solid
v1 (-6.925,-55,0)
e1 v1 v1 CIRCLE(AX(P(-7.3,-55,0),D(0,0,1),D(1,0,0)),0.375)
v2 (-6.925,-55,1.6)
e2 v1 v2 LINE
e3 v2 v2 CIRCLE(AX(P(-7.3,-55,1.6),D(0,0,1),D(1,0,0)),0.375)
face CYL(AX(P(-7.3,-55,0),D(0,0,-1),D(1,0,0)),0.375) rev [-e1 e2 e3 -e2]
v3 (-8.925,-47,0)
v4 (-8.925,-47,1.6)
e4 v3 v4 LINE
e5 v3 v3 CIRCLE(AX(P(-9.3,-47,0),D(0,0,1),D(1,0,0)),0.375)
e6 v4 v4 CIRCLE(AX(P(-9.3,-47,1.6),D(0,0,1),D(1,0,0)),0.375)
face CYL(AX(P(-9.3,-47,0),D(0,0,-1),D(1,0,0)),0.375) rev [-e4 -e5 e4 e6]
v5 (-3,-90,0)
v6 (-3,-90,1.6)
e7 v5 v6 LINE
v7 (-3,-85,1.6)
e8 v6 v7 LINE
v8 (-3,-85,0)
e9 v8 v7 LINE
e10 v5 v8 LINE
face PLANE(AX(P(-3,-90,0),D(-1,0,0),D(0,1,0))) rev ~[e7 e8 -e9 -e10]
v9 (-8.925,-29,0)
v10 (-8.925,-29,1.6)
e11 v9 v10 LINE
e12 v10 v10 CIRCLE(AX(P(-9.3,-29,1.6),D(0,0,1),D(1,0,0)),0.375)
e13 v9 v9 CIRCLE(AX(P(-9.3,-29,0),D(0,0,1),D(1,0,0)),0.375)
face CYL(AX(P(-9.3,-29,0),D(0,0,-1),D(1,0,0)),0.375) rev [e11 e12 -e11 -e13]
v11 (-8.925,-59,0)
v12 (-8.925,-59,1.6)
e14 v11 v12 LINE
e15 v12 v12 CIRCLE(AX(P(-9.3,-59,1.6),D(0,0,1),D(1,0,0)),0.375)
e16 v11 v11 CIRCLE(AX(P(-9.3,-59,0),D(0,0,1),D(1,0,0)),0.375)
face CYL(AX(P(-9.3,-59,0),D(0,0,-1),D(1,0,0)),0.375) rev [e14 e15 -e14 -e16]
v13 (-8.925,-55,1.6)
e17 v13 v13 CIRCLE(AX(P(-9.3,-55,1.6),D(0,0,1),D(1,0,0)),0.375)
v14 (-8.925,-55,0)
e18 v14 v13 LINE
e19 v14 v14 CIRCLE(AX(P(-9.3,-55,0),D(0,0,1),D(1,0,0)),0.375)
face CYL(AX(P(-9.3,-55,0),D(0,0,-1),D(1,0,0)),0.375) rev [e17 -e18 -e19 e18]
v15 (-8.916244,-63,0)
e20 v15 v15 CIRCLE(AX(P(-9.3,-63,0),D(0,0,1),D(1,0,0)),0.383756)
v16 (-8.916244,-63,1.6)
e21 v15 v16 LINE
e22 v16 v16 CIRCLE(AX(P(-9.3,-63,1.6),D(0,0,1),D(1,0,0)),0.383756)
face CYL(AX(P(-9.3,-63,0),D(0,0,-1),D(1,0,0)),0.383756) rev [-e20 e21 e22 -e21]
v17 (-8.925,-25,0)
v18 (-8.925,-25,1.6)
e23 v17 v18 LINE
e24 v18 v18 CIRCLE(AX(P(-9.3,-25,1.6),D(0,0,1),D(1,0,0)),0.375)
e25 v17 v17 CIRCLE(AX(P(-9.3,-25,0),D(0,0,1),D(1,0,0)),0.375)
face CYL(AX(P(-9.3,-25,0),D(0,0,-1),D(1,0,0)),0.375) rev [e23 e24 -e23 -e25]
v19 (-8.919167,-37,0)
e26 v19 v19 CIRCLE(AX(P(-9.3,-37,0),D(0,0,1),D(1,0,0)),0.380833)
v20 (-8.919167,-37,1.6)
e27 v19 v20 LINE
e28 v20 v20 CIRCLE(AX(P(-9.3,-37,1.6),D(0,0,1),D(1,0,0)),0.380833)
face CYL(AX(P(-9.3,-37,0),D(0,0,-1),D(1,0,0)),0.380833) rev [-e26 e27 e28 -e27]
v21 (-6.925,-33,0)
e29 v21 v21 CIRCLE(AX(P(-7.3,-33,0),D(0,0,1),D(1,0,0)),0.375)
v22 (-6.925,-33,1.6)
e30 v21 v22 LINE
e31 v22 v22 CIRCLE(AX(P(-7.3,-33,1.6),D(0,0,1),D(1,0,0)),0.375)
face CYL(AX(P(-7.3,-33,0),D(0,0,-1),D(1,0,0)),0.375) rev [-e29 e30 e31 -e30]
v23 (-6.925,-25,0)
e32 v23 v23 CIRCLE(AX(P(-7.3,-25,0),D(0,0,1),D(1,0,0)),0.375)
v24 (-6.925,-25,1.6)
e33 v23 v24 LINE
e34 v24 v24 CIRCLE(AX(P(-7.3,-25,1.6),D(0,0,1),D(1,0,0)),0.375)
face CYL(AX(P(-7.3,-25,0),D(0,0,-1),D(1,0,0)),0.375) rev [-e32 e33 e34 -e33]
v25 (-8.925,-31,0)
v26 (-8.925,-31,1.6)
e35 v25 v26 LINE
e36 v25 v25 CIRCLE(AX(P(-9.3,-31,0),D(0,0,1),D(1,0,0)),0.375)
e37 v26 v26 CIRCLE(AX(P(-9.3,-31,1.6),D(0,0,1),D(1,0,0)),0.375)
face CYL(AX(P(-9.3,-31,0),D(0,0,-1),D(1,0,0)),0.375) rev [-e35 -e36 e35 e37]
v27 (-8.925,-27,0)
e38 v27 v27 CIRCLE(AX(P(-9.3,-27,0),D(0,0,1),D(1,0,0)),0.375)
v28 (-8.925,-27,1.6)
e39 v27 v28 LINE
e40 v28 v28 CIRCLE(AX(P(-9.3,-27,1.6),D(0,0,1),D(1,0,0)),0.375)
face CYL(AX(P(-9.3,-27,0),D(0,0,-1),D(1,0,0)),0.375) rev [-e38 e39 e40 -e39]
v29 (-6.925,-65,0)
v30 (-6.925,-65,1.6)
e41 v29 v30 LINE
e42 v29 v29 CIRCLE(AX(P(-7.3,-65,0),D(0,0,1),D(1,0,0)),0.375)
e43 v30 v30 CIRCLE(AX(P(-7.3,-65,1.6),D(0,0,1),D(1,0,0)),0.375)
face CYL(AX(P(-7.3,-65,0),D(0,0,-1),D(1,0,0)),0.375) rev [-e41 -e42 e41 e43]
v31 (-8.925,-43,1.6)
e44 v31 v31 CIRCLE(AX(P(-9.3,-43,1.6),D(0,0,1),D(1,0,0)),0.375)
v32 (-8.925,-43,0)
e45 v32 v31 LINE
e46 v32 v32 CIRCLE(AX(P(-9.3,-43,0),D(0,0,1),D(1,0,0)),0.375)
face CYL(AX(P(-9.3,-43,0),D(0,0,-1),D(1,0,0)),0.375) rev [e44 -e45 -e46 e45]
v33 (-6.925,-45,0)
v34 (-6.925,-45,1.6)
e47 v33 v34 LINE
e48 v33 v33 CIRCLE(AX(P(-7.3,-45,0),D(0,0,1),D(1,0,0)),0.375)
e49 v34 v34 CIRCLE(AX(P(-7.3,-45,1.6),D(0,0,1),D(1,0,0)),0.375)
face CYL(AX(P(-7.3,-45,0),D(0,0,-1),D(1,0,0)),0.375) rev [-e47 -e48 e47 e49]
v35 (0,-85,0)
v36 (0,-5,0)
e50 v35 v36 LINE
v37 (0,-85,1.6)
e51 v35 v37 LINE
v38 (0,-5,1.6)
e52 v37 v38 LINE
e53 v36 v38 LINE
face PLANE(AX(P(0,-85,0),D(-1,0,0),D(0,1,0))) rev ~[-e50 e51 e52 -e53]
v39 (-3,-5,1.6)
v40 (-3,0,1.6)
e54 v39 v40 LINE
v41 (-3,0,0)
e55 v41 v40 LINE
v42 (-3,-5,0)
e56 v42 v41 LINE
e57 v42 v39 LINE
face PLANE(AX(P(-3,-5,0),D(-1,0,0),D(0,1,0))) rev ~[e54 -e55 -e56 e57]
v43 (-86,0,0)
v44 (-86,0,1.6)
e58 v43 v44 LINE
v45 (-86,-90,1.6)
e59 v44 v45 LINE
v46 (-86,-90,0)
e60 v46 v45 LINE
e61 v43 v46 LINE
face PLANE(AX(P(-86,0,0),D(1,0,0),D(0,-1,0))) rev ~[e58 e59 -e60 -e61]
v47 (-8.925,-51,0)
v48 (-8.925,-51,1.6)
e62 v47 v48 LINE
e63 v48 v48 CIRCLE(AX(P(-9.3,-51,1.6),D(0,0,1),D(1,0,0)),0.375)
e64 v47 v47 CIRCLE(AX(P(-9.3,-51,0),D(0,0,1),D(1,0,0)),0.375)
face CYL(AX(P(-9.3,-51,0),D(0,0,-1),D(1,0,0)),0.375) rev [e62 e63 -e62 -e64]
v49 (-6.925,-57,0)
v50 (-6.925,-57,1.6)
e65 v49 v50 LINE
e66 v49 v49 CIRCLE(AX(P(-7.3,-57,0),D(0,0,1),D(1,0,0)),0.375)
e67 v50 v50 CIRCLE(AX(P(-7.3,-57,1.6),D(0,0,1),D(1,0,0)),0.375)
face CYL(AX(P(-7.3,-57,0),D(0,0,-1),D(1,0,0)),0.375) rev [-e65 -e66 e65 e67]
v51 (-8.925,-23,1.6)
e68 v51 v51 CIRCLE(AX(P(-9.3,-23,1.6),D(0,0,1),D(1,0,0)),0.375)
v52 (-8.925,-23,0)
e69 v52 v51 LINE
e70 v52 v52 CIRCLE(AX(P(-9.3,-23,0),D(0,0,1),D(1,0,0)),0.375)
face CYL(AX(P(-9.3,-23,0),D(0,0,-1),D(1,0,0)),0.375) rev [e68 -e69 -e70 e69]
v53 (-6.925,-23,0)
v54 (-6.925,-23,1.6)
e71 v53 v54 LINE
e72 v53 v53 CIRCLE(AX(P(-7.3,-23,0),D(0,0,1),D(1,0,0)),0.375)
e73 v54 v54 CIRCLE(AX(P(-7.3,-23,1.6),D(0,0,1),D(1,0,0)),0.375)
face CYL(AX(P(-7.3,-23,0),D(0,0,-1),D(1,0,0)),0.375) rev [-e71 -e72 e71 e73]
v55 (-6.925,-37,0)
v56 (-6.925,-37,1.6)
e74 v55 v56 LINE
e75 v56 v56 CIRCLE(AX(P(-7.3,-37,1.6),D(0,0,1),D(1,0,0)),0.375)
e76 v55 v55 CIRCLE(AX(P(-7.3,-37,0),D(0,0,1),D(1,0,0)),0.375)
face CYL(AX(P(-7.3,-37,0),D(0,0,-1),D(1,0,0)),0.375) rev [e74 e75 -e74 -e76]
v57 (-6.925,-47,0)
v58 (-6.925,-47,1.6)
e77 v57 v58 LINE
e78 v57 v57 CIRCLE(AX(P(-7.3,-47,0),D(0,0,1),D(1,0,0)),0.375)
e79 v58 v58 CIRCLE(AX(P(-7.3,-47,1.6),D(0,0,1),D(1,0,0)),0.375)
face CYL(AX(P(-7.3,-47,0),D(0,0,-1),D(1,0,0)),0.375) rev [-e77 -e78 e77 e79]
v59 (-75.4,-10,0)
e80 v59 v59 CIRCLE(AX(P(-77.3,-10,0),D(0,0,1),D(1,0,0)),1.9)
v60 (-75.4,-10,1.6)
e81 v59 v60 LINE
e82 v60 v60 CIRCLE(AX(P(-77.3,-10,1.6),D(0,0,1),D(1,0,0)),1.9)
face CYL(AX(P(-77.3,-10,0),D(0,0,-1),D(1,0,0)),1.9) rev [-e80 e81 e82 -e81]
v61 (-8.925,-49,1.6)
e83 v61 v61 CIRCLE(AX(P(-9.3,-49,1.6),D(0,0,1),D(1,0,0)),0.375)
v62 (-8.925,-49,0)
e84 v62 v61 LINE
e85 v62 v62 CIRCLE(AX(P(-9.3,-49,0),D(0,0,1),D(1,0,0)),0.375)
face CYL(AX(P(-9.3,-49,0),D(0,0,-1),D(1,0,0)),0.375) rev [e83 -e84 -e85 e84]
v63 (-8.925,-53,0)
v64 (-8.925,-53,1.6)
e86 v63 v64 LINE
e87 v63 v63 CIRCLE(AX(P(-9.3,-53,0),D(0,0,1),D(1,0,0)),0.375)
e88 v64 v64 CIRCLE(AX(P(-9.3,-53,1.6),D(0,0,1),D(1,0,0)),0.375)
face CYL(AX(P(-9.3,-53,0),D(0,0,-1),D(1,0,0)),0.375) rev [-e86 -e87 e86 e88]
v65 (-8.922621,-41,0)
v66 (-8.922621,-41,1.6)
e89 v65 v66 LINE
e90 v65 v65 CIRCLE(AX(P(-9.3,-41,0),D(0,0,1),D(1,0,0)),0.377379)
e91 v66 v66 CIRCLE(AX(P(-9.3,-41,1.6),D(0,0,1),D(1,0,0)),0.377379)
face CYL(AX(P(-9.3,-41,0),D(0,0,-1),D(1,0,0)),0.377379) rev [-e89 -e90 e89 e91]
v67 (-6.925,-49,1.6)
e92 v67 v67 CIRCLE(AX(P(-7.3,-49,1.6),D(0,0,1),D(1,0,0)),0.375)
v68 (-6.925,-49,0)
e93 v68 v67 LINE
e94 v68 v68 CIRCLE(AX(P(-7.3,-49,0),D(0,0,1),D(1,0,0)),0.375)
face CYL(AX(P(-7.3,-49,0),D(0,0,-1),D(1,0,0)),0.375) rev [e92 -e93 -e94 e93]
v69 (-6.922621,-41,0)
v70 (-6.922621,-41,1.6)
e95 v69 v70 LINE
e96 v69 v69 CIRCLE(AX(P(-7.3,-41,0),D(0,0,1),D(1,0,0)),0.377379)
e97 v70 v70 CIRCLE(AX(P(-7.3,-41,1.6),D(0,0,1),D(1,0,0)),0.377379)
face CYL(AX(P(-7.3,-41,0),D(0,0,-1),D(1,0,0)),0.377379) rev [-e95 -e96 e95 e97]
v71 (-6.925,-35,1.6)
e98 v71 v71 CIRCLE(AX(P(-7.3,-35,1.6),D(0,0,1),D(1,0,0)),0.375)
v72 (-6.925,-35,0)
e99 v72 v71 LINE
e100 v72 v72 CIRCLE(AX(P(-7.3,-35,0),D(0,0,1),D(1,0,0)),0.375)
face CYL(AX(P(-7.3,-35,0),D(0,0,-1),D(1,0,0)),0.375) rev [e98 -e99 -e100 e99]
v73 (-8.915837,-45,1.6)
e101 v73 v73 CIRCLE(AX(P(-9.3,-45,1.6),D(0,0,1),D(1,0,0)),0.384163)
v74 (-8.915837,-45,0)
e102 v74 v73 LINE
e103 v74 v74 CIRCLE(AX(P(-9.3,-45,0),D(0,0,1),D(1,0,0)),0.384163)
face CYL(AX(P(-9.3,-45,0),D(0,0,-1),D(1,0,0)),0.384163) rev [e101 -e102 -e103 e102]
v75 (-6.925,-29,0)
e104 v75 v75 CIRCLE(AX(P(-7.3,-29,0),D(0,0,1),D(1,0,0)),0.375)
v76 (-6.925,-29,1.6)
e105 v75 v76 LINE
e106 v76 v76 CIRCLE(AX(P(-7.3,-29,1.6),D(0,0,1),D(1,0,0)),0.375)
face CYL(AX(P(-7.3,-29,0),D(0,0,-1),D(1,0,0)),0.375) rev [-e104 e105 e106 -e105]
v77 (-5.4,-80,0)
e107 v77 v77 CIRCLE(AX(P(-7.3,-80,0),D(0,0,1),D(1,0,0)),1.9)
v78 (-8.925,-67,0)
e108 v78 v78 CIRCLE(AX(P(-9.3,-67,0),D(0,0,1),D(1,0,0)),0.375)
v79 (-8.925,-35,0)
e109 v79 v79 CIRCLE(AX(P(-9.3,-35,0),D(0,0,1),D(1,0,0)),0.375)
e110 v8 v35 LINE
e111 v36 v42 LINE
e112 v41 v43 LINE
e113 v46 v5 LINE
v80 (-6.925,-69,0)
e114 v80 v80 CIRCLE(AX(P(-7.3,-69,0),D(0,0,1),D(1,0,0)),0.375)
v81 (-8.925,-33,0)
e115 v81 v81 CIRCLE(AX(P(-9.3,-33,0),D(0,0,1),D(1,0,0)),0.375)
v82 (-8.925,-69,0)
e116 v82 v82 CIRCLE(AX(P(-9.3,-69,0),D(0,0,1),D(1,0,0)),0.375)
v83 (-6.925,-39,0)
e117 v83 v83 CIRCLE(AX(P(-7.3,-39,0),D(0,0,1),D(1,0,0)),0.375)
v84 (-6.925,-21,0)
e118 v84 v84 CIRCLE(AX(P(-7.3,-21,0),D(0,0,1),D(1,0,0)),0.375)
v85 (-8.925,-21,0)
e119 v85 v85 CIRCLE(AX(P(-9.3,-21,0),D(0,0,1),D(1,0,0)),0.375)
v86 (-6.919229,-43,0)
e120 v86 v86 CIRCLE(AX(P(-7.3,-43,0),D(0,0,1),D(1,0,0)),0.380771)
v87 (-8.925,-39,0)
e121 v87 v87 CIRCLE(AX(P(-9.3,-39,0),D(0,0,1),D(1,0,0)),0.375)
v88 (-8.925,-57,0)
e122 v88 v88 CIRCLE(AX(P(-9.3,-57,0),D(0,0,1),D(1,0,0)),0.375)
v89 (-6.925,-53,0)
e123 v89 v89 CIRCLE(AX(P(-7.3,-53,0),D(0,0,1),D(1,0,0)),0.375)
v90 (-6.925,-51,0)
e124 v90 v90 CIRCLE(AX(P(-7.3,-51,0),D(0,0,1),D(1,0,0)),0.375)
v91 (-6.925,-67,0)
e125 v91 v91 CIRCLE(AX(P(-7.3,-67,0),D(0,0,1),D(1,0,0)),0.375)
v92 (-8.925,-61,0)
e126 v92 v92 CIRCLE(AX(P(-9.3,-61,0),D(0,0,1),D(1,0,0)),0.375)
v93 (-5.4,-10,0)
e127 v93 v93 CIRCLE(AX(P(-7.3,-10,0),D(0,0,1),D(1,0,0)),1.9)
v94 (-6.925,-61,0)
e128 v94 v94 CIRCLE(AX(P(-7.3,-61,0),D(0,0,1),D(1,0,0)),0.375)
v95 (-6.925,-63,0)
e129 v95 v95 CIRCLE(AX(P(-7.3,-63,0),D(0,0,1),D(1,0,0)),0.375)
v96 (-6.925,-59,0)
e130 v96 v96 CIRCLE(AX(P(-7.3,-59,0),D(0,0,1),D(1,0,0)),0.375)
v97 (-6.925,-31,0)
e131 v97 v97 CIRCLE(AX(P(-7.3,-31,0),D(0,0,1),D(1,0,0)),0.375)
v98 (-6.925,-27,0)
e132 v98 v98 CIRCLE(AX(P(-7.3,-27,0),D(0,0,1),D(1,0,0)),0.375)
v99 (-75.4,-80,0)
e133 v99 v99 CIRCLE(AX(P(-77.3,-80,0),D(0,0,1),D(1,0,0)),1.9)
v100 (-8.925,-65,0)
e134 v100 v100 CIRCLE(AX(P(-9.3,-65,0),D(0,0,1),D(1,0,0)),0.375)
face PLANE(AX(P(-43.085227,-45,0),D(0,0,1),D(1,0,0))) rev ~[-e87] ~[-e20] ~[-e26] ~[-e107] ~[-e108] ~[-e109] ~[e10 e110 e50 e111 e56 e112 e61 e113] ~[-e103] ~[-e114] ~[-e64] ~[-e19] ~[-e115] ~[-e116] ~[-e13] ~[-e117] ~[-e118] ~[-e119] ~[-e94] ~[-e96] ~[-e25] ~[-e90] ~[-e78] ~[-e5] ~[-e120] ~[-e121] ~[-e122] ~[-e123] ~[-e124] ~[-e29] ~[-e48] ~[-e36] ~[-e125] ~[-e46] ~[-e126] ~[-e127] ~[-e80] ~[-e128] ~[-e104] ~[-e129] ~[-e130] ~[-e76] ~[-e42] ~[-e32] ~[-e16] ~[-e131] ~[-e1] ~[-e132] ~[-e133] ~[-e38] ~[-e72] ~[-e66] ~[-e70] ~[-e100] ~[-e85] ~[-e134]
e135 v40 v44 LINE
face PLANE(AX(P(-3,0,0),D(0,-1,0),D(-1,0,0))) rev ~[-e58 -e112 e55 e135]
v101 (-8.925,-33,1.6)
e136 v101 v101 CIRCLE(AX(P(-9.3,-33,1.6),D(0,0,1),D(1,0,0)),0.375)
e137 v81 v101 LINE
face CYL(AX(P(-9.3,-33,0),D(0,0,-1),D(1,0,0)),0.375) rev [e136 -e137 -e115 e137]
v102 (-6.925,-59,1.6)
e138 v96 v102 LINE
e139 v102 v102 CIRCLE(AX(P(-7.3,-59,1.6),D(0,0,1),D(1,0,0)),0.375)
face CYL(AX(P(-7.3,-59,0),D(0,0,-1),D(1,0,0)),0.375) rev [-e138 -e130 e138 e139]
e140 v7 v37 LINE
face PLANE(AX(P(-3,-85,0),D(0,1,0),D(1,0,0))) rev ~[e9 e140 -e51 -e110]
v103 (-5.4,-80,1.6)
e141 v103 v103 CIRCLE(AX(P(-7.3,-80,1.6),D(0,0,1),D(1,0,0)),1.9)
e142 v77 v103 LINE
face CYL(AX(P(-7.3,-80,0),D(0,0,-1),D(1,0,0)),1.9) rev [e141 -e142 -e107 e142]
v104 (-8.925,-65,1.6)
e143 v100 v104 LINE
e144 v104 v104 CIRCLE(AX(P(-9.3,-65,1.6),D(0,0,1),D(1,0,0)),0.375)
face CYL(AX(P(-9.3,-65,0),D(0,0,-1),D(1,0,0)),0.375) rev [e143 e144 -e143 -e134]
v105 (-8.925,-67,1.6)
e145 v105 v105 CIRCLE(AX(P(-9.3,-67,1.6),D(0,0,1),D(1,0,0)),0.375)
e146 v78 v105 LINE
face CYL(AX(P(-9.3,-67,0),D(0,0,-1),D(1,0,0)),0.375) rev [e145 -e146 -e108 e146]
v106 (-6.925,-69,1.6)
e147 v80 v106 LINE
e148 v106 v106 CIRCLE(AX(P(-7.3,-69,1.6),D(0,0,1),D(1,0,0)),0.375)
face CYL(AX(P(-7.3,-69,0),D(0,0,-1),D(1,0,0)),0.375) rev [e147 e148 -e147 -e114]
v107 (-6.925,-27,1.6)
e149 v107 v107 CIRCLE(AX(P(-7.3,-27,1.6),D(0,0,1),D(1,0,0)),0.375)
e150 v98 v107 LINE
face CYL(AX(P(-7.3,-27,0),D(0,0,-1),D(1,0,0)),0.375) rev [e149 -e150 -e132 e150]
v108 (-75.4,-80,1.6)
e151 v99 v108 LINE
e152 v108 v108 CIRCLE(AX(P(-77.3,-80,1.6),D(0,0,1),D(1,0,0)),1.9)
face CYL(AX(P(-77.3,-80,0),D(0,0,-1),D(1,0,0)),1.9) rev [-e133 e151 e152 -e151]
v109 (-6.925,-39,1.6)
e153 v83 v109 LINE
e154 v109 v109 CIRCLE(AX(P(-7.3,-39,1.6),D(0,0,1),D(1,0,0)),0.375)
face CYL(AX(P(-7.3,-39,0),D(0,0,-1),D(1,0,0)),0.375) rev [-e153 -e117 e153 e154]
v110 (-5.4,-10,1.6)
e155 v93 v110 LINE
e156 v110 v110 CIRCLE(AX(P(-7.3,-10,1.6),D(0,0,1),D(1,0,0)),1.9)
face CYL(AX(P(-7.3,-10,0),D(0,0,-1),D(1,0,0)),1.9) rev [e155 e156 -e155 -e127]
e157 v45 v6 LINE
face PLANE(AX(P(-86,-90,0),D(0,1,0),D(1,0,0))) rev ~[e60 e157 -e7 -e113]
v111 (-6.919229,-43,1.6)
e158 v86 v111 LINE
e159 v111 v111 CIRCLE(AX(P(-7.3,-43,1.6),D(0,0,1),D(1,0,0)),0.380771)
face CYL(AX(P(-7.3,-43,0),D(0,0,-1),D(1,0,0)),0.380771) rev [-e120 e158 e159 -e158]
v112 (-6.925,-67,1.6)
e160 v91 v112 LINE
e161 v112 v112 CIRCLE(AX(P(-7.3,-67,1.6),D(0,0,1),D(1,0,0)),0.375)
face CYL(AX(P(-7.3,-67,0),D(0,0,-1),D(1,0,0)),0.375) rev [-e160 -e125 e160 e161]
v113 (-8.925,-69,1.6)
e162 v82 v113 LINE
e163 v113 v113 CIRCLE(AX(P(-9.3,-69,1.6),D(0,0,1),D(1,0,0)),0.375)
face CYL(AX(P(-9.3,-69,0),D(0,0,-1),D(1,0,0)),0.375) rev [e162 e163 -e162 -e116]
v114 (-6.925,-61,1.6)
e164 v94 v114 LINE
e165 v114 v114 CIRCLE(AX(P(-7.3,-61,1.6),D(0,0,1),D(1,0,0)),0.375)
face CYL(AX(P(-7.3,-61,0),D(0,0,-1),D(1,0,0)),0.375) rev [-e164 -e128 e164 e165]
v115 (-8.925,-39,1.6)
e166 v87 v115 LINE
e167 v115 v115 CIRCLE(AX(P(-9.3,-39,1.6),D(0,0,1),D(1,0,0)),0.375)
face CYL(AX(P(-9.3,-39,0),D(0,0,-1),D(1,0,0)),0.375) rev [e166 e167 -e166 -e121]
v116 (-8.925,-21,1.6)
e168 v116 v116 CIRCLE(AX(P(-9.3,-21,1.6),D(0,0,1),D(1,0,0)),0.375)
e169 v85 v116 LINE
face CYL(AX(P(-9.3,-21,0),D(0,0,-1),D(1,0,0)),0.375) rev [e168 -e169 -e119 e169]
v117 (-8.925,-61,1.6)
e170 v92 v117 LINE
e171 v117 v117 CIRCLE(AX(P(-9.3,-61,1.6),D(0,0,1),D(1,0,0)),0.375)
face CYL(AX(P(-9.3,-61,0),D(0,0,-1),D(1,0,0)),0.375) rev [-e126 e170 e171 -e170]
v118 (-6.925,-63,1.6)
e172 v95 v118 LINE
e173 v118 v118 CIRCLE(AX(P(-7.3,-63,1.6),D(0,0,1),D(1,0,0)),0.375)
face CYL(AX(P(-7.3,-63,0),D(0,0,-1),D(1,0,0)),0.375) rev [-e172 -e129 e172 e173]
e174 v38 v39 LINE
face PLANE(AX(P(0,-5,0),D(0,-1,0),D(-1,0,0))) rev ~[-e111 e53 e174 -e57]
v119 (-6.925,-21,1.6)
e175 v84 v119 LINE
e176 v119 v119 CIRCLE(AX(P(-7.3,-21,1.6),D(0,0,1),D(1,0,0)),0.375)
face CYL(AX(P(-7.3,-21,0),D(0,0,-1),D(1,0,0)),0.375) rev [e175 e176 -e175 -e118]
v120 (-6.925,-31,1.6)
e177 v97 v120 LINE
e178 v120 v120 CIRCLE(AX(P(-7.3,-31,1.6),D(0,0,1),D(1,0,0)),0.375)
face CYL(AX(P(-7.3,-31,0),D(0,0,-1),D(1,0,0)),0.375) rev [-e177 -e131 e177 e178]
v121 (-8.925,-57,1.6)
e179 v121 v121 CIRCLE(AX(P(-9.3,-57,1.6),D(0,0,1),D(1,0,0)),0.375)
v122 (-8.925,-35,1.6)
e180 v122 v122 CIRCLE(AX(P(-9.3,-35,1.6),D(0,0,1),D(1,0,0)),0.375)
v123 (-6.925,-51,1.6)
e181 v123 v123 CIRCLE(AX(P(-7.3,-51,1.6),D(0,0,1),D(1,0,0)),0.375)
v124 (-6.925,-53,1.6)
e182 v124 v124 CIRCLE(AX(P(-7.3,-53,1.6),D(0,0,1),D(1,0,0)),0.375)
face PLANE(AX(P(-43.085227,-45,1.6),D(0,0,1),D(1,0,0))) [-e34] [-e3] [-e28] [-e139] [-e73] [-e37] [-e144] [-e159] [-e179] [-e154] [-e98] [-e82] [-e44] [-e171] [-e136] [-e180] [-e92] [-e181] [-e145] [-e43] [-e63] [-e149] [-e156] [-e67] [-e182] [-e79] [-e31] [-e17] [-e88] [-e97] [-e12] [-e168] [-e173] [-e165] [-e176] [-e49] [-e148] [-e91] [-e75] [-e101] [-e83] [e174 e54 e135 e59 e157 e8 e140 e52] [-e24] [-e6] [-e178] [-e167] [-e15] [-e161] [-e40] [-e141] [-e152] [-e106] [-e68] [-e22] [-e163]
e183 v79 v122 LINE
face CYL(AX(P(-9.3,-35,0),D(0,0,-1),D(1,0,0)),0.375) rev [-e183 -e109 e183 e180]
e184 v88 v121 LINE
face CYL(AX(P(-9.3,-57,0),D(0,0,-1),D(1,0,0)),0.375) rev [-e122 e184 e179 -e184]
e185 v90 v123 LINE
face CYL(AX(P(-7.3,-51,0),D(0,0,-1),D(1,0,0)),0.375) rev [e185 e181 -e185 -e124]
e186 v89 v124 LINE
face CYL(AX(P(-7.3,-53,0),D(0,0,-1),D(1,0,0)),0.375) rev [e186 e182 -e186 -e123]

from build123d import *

# Parameters (mm, degrees)
SKETCH1_R           = 1.9
SKETCH1_R_2         = 0.375
SKETCH1_R_3         = 0.383755901
SKETCH1_R_4         = 0.384163196
SKETCH1_R_5         = 0.380771211
SKETCH1_R_6         = 0.377379225
SKETCH1_R_7         = 0.380832793
BOSS_EXTRUDE1_DEPTH = 1.6


with BuildPart() as part:
    # Sketch1 → Boss-Extrude1 (new body)
    with BuildSketch(Plane.XY):
        Polygon((-3, 0), (-86, 0), (-86, -90), (-3, -90), (-3, -85), (0, -85), (0, -5), (-3, -5), align=None)
        with Locations((-7.3, -10)):
            Circle(SKETCH1_R, mode=Mode.SUBTRACT)
        with Locations((-77.3, -10)):
            Circle(SKETCH1_R, mode=Mode.SUBTRACT)
        with Locations((-77.3, -80)):
            Circle(SKETCH1_R, mode=Mode.SUBTRACT)
        with Locations((-7.3, -80)):
            Circle(SKETCH1_R, mode=Mode.SUBTRACT)
        with Locations((-9.3, -69)):
            Circle(SKETCH1_R_2, mode=Mode.SUBTRACT)
        with Locations((-7.3, -69)):
            Circle(SKETCH1_R_2, mode=Mode.SUBTRACT)
        with Locations((-7.3, -67)):
            Circle(SKETCH1_R_2, mode=Mode.SUBTRACT)
        with Locations((-9.3, -67)):
            Circle(SKETCH1_R_2, mode=Mode.SUBTRACT)
        with Locations((-9.3, -65)):
            Circle(SKETCH1_R_2, mode=Mode.SUBTRACT)
        with Locations((-7.3, -65)):
            Circle(SKETCH1_R_2, mode=Mode.SUBTRACT)
        with Locations((-7.3, -63)):
            Circle(SKETCH1_R_2, mode=Mode.SUBTRACT)
        with Locations((-9.3, -63)):
            Circle(SKETCH1_R_3, mode=Mode.SUBTRACT)
        with Locations((-9.3, -61)):
            Circle(SKETCH1_R_2, mode=Mode.SUBTRACT)
        with Locations((-7.3, -61)):
            Circle(SKETCH1_R_2, mode=Mode.SUBTRACT)
        with Locations((-7.3, -59)):
            Circle(SKETCH1_R_2, mode=Mode.SUBTRACT)
        with Locations((-9.3, -59)):
            Circle(SKETCH1_R_2, mode=Mode.SUBTRACT)
        with Locations((-7.3, -57)):
            Circle(SKETCH1_R_2, mode=Mode.SUBTRACT)
        with Locations((-9.3, -57)):
            Circle(SKETCH1_R_2, mode=Mode.SUBTRACT)
        with Locations((-9.3, -55)):
            Circle(SKETCH1_R_2, mode=Mode.SUBTRACT)
        with Locations((-7.3, -55)):
            Circle(SKETCH1_R_2, mode=Mode.SUBTRACT)
        with Locations((-7.3, -53)):
            Circle(SKETCH1_R_2, mode=Mode.SUBTRACT)
        with Locations((-9.3, -53)):
            Circle(SKETCH1_R_2, mode=Mode.SUBTRACT)
        with Locations((-9.3, -51)):
            Circle(SKETCH1_R_2, mode=Mode.SUBTRACT)
        with Locations((-7.3, -51)):
            Circle(SKETCH1_R_2, mode=Mode.SUBTRACT)
        with Locations((-7.3, -49)):
            Circle(SKETCH1_R_2, mode=Mode.SUBTRACT)
        with Locations((-9.3, -49)):
            Circle(SKETCH1_R_2, mode=Mode.SUBTRACT)
        with Locations((-9.3, -47)):
            Circle(SKETCH1_R_2, mode=Mode.SUBTRACT)
        with Locations((-7.3, -47)):
            Circle(SKETCH1_R_2, mode=Mode.SUBTRACT)
        with Locations((-7.3, -45)):
            Circle(SKETCH1_R_2, mode=Mode.SUBTRACT)
        with Locations((-9.3, -45)):
            Circle(SKETCH1_R_4, mode=Mode.SUBTRACT)
        with Locations((-9.3, -43)):
            Circle(SKETCH1_R_2, mode=Mode.SUBTRACT)
        with Locations((-7.3, -43)):
            Circle(SKETCH1_R_5, mode=Mode.SUBTRACT)
        with Locations((-7.3, -41)):
            Circle(SKETCH1_R_6, mode=Mode.SUBTRACT)
        with Locations((-9.3, -41)):
            Circle(SKETCH1_R_6, mode=Mode.SUBTRACT)
        with Locations((-9.3, -39)):
            Circle(SKETCH1_R_2, mode=Mode.SUBTRACT)
        with Locations((-7.3, -39)):
            Circle(SKETCH1_R_2, mode=Mode.SUBTRACT)
        with Locations((-7.3, -37)):
            Circle(SKETCH1_R_2, mode=Mode.SUBTRACT)
        with Locations((-9.3, -37)):
            Circle(SKETCH1_R_7, mode=Mode.SUBTRACT)
        with Locations((-7.3, -35)):
            Circle(SKETCH1_R_2, mode=Mode.SUBTRACT)
        with Locations((-9.3, -35)):
            Circle(SKETCH1_R_2, mode=Mode.SUBTRACT)
        with Locations((-9.3, -33)):
            Circle(SKETCH1_R_2, mode=Mode.SUBTRACT)
        with Locations((-7.3, -33)):
            Circle(SKETCH1_R_2, mode=Mode.SUBTRACT)
        with Locations((-7.3, -31)):
            Circle(SKETCH1_R_2, mode=Mode.SUBTRACT)
        with Locations((-9.3, -31)):
            Circle(SKETCH1_R_2, mode=Mode.SUBTRACT)
        with Locations((-7.3, -29)):
            Circle(SKETCH1_R_2, mode=Mode.SUBTRACT)
        with Locations((-9.3, -29)):
            Circle(SKETCH1_R_2, mode=Mode.SUBTRACT)
        with Locations((-9.3, -27)):
            Circle(SKETCH1_R_2, mode=Mode.SUBTRACT)
        with Locations((-7.3, -27)):
            Circle(SKETCH1_R_2, mode=Mode.SUBTRACT)
        with Locations((-7.3, -25)):
            Circle(SKETCH1_R_2, mode=Mode.SUBTRACT)
        with Locations((-9.3, -25)):
            Circle(SKETCH1_R_2, mode=Mode.SUBTRACT)
        with Locations((-7.3, -23)):
            Circle(SKETCH1_R_2, mode=Mode.SUBTRACT)
        with Locations((-9.3, -23)):
            Circle(SKETCH1_R_2, mode=Mode.SUBTRACT)
        with Locations((-9.3, -21)):
            Circle(SKETCH1_R_2, mode=Mode.SUBTRACT)
        with Locations((-7.3, -21)):
            Circle(SKETCH1_R_2, mode=Mode.SUBTRACT)
    extrude(amount=BOSS_EXTRUDE1_DEPTH)


solid = part.part
